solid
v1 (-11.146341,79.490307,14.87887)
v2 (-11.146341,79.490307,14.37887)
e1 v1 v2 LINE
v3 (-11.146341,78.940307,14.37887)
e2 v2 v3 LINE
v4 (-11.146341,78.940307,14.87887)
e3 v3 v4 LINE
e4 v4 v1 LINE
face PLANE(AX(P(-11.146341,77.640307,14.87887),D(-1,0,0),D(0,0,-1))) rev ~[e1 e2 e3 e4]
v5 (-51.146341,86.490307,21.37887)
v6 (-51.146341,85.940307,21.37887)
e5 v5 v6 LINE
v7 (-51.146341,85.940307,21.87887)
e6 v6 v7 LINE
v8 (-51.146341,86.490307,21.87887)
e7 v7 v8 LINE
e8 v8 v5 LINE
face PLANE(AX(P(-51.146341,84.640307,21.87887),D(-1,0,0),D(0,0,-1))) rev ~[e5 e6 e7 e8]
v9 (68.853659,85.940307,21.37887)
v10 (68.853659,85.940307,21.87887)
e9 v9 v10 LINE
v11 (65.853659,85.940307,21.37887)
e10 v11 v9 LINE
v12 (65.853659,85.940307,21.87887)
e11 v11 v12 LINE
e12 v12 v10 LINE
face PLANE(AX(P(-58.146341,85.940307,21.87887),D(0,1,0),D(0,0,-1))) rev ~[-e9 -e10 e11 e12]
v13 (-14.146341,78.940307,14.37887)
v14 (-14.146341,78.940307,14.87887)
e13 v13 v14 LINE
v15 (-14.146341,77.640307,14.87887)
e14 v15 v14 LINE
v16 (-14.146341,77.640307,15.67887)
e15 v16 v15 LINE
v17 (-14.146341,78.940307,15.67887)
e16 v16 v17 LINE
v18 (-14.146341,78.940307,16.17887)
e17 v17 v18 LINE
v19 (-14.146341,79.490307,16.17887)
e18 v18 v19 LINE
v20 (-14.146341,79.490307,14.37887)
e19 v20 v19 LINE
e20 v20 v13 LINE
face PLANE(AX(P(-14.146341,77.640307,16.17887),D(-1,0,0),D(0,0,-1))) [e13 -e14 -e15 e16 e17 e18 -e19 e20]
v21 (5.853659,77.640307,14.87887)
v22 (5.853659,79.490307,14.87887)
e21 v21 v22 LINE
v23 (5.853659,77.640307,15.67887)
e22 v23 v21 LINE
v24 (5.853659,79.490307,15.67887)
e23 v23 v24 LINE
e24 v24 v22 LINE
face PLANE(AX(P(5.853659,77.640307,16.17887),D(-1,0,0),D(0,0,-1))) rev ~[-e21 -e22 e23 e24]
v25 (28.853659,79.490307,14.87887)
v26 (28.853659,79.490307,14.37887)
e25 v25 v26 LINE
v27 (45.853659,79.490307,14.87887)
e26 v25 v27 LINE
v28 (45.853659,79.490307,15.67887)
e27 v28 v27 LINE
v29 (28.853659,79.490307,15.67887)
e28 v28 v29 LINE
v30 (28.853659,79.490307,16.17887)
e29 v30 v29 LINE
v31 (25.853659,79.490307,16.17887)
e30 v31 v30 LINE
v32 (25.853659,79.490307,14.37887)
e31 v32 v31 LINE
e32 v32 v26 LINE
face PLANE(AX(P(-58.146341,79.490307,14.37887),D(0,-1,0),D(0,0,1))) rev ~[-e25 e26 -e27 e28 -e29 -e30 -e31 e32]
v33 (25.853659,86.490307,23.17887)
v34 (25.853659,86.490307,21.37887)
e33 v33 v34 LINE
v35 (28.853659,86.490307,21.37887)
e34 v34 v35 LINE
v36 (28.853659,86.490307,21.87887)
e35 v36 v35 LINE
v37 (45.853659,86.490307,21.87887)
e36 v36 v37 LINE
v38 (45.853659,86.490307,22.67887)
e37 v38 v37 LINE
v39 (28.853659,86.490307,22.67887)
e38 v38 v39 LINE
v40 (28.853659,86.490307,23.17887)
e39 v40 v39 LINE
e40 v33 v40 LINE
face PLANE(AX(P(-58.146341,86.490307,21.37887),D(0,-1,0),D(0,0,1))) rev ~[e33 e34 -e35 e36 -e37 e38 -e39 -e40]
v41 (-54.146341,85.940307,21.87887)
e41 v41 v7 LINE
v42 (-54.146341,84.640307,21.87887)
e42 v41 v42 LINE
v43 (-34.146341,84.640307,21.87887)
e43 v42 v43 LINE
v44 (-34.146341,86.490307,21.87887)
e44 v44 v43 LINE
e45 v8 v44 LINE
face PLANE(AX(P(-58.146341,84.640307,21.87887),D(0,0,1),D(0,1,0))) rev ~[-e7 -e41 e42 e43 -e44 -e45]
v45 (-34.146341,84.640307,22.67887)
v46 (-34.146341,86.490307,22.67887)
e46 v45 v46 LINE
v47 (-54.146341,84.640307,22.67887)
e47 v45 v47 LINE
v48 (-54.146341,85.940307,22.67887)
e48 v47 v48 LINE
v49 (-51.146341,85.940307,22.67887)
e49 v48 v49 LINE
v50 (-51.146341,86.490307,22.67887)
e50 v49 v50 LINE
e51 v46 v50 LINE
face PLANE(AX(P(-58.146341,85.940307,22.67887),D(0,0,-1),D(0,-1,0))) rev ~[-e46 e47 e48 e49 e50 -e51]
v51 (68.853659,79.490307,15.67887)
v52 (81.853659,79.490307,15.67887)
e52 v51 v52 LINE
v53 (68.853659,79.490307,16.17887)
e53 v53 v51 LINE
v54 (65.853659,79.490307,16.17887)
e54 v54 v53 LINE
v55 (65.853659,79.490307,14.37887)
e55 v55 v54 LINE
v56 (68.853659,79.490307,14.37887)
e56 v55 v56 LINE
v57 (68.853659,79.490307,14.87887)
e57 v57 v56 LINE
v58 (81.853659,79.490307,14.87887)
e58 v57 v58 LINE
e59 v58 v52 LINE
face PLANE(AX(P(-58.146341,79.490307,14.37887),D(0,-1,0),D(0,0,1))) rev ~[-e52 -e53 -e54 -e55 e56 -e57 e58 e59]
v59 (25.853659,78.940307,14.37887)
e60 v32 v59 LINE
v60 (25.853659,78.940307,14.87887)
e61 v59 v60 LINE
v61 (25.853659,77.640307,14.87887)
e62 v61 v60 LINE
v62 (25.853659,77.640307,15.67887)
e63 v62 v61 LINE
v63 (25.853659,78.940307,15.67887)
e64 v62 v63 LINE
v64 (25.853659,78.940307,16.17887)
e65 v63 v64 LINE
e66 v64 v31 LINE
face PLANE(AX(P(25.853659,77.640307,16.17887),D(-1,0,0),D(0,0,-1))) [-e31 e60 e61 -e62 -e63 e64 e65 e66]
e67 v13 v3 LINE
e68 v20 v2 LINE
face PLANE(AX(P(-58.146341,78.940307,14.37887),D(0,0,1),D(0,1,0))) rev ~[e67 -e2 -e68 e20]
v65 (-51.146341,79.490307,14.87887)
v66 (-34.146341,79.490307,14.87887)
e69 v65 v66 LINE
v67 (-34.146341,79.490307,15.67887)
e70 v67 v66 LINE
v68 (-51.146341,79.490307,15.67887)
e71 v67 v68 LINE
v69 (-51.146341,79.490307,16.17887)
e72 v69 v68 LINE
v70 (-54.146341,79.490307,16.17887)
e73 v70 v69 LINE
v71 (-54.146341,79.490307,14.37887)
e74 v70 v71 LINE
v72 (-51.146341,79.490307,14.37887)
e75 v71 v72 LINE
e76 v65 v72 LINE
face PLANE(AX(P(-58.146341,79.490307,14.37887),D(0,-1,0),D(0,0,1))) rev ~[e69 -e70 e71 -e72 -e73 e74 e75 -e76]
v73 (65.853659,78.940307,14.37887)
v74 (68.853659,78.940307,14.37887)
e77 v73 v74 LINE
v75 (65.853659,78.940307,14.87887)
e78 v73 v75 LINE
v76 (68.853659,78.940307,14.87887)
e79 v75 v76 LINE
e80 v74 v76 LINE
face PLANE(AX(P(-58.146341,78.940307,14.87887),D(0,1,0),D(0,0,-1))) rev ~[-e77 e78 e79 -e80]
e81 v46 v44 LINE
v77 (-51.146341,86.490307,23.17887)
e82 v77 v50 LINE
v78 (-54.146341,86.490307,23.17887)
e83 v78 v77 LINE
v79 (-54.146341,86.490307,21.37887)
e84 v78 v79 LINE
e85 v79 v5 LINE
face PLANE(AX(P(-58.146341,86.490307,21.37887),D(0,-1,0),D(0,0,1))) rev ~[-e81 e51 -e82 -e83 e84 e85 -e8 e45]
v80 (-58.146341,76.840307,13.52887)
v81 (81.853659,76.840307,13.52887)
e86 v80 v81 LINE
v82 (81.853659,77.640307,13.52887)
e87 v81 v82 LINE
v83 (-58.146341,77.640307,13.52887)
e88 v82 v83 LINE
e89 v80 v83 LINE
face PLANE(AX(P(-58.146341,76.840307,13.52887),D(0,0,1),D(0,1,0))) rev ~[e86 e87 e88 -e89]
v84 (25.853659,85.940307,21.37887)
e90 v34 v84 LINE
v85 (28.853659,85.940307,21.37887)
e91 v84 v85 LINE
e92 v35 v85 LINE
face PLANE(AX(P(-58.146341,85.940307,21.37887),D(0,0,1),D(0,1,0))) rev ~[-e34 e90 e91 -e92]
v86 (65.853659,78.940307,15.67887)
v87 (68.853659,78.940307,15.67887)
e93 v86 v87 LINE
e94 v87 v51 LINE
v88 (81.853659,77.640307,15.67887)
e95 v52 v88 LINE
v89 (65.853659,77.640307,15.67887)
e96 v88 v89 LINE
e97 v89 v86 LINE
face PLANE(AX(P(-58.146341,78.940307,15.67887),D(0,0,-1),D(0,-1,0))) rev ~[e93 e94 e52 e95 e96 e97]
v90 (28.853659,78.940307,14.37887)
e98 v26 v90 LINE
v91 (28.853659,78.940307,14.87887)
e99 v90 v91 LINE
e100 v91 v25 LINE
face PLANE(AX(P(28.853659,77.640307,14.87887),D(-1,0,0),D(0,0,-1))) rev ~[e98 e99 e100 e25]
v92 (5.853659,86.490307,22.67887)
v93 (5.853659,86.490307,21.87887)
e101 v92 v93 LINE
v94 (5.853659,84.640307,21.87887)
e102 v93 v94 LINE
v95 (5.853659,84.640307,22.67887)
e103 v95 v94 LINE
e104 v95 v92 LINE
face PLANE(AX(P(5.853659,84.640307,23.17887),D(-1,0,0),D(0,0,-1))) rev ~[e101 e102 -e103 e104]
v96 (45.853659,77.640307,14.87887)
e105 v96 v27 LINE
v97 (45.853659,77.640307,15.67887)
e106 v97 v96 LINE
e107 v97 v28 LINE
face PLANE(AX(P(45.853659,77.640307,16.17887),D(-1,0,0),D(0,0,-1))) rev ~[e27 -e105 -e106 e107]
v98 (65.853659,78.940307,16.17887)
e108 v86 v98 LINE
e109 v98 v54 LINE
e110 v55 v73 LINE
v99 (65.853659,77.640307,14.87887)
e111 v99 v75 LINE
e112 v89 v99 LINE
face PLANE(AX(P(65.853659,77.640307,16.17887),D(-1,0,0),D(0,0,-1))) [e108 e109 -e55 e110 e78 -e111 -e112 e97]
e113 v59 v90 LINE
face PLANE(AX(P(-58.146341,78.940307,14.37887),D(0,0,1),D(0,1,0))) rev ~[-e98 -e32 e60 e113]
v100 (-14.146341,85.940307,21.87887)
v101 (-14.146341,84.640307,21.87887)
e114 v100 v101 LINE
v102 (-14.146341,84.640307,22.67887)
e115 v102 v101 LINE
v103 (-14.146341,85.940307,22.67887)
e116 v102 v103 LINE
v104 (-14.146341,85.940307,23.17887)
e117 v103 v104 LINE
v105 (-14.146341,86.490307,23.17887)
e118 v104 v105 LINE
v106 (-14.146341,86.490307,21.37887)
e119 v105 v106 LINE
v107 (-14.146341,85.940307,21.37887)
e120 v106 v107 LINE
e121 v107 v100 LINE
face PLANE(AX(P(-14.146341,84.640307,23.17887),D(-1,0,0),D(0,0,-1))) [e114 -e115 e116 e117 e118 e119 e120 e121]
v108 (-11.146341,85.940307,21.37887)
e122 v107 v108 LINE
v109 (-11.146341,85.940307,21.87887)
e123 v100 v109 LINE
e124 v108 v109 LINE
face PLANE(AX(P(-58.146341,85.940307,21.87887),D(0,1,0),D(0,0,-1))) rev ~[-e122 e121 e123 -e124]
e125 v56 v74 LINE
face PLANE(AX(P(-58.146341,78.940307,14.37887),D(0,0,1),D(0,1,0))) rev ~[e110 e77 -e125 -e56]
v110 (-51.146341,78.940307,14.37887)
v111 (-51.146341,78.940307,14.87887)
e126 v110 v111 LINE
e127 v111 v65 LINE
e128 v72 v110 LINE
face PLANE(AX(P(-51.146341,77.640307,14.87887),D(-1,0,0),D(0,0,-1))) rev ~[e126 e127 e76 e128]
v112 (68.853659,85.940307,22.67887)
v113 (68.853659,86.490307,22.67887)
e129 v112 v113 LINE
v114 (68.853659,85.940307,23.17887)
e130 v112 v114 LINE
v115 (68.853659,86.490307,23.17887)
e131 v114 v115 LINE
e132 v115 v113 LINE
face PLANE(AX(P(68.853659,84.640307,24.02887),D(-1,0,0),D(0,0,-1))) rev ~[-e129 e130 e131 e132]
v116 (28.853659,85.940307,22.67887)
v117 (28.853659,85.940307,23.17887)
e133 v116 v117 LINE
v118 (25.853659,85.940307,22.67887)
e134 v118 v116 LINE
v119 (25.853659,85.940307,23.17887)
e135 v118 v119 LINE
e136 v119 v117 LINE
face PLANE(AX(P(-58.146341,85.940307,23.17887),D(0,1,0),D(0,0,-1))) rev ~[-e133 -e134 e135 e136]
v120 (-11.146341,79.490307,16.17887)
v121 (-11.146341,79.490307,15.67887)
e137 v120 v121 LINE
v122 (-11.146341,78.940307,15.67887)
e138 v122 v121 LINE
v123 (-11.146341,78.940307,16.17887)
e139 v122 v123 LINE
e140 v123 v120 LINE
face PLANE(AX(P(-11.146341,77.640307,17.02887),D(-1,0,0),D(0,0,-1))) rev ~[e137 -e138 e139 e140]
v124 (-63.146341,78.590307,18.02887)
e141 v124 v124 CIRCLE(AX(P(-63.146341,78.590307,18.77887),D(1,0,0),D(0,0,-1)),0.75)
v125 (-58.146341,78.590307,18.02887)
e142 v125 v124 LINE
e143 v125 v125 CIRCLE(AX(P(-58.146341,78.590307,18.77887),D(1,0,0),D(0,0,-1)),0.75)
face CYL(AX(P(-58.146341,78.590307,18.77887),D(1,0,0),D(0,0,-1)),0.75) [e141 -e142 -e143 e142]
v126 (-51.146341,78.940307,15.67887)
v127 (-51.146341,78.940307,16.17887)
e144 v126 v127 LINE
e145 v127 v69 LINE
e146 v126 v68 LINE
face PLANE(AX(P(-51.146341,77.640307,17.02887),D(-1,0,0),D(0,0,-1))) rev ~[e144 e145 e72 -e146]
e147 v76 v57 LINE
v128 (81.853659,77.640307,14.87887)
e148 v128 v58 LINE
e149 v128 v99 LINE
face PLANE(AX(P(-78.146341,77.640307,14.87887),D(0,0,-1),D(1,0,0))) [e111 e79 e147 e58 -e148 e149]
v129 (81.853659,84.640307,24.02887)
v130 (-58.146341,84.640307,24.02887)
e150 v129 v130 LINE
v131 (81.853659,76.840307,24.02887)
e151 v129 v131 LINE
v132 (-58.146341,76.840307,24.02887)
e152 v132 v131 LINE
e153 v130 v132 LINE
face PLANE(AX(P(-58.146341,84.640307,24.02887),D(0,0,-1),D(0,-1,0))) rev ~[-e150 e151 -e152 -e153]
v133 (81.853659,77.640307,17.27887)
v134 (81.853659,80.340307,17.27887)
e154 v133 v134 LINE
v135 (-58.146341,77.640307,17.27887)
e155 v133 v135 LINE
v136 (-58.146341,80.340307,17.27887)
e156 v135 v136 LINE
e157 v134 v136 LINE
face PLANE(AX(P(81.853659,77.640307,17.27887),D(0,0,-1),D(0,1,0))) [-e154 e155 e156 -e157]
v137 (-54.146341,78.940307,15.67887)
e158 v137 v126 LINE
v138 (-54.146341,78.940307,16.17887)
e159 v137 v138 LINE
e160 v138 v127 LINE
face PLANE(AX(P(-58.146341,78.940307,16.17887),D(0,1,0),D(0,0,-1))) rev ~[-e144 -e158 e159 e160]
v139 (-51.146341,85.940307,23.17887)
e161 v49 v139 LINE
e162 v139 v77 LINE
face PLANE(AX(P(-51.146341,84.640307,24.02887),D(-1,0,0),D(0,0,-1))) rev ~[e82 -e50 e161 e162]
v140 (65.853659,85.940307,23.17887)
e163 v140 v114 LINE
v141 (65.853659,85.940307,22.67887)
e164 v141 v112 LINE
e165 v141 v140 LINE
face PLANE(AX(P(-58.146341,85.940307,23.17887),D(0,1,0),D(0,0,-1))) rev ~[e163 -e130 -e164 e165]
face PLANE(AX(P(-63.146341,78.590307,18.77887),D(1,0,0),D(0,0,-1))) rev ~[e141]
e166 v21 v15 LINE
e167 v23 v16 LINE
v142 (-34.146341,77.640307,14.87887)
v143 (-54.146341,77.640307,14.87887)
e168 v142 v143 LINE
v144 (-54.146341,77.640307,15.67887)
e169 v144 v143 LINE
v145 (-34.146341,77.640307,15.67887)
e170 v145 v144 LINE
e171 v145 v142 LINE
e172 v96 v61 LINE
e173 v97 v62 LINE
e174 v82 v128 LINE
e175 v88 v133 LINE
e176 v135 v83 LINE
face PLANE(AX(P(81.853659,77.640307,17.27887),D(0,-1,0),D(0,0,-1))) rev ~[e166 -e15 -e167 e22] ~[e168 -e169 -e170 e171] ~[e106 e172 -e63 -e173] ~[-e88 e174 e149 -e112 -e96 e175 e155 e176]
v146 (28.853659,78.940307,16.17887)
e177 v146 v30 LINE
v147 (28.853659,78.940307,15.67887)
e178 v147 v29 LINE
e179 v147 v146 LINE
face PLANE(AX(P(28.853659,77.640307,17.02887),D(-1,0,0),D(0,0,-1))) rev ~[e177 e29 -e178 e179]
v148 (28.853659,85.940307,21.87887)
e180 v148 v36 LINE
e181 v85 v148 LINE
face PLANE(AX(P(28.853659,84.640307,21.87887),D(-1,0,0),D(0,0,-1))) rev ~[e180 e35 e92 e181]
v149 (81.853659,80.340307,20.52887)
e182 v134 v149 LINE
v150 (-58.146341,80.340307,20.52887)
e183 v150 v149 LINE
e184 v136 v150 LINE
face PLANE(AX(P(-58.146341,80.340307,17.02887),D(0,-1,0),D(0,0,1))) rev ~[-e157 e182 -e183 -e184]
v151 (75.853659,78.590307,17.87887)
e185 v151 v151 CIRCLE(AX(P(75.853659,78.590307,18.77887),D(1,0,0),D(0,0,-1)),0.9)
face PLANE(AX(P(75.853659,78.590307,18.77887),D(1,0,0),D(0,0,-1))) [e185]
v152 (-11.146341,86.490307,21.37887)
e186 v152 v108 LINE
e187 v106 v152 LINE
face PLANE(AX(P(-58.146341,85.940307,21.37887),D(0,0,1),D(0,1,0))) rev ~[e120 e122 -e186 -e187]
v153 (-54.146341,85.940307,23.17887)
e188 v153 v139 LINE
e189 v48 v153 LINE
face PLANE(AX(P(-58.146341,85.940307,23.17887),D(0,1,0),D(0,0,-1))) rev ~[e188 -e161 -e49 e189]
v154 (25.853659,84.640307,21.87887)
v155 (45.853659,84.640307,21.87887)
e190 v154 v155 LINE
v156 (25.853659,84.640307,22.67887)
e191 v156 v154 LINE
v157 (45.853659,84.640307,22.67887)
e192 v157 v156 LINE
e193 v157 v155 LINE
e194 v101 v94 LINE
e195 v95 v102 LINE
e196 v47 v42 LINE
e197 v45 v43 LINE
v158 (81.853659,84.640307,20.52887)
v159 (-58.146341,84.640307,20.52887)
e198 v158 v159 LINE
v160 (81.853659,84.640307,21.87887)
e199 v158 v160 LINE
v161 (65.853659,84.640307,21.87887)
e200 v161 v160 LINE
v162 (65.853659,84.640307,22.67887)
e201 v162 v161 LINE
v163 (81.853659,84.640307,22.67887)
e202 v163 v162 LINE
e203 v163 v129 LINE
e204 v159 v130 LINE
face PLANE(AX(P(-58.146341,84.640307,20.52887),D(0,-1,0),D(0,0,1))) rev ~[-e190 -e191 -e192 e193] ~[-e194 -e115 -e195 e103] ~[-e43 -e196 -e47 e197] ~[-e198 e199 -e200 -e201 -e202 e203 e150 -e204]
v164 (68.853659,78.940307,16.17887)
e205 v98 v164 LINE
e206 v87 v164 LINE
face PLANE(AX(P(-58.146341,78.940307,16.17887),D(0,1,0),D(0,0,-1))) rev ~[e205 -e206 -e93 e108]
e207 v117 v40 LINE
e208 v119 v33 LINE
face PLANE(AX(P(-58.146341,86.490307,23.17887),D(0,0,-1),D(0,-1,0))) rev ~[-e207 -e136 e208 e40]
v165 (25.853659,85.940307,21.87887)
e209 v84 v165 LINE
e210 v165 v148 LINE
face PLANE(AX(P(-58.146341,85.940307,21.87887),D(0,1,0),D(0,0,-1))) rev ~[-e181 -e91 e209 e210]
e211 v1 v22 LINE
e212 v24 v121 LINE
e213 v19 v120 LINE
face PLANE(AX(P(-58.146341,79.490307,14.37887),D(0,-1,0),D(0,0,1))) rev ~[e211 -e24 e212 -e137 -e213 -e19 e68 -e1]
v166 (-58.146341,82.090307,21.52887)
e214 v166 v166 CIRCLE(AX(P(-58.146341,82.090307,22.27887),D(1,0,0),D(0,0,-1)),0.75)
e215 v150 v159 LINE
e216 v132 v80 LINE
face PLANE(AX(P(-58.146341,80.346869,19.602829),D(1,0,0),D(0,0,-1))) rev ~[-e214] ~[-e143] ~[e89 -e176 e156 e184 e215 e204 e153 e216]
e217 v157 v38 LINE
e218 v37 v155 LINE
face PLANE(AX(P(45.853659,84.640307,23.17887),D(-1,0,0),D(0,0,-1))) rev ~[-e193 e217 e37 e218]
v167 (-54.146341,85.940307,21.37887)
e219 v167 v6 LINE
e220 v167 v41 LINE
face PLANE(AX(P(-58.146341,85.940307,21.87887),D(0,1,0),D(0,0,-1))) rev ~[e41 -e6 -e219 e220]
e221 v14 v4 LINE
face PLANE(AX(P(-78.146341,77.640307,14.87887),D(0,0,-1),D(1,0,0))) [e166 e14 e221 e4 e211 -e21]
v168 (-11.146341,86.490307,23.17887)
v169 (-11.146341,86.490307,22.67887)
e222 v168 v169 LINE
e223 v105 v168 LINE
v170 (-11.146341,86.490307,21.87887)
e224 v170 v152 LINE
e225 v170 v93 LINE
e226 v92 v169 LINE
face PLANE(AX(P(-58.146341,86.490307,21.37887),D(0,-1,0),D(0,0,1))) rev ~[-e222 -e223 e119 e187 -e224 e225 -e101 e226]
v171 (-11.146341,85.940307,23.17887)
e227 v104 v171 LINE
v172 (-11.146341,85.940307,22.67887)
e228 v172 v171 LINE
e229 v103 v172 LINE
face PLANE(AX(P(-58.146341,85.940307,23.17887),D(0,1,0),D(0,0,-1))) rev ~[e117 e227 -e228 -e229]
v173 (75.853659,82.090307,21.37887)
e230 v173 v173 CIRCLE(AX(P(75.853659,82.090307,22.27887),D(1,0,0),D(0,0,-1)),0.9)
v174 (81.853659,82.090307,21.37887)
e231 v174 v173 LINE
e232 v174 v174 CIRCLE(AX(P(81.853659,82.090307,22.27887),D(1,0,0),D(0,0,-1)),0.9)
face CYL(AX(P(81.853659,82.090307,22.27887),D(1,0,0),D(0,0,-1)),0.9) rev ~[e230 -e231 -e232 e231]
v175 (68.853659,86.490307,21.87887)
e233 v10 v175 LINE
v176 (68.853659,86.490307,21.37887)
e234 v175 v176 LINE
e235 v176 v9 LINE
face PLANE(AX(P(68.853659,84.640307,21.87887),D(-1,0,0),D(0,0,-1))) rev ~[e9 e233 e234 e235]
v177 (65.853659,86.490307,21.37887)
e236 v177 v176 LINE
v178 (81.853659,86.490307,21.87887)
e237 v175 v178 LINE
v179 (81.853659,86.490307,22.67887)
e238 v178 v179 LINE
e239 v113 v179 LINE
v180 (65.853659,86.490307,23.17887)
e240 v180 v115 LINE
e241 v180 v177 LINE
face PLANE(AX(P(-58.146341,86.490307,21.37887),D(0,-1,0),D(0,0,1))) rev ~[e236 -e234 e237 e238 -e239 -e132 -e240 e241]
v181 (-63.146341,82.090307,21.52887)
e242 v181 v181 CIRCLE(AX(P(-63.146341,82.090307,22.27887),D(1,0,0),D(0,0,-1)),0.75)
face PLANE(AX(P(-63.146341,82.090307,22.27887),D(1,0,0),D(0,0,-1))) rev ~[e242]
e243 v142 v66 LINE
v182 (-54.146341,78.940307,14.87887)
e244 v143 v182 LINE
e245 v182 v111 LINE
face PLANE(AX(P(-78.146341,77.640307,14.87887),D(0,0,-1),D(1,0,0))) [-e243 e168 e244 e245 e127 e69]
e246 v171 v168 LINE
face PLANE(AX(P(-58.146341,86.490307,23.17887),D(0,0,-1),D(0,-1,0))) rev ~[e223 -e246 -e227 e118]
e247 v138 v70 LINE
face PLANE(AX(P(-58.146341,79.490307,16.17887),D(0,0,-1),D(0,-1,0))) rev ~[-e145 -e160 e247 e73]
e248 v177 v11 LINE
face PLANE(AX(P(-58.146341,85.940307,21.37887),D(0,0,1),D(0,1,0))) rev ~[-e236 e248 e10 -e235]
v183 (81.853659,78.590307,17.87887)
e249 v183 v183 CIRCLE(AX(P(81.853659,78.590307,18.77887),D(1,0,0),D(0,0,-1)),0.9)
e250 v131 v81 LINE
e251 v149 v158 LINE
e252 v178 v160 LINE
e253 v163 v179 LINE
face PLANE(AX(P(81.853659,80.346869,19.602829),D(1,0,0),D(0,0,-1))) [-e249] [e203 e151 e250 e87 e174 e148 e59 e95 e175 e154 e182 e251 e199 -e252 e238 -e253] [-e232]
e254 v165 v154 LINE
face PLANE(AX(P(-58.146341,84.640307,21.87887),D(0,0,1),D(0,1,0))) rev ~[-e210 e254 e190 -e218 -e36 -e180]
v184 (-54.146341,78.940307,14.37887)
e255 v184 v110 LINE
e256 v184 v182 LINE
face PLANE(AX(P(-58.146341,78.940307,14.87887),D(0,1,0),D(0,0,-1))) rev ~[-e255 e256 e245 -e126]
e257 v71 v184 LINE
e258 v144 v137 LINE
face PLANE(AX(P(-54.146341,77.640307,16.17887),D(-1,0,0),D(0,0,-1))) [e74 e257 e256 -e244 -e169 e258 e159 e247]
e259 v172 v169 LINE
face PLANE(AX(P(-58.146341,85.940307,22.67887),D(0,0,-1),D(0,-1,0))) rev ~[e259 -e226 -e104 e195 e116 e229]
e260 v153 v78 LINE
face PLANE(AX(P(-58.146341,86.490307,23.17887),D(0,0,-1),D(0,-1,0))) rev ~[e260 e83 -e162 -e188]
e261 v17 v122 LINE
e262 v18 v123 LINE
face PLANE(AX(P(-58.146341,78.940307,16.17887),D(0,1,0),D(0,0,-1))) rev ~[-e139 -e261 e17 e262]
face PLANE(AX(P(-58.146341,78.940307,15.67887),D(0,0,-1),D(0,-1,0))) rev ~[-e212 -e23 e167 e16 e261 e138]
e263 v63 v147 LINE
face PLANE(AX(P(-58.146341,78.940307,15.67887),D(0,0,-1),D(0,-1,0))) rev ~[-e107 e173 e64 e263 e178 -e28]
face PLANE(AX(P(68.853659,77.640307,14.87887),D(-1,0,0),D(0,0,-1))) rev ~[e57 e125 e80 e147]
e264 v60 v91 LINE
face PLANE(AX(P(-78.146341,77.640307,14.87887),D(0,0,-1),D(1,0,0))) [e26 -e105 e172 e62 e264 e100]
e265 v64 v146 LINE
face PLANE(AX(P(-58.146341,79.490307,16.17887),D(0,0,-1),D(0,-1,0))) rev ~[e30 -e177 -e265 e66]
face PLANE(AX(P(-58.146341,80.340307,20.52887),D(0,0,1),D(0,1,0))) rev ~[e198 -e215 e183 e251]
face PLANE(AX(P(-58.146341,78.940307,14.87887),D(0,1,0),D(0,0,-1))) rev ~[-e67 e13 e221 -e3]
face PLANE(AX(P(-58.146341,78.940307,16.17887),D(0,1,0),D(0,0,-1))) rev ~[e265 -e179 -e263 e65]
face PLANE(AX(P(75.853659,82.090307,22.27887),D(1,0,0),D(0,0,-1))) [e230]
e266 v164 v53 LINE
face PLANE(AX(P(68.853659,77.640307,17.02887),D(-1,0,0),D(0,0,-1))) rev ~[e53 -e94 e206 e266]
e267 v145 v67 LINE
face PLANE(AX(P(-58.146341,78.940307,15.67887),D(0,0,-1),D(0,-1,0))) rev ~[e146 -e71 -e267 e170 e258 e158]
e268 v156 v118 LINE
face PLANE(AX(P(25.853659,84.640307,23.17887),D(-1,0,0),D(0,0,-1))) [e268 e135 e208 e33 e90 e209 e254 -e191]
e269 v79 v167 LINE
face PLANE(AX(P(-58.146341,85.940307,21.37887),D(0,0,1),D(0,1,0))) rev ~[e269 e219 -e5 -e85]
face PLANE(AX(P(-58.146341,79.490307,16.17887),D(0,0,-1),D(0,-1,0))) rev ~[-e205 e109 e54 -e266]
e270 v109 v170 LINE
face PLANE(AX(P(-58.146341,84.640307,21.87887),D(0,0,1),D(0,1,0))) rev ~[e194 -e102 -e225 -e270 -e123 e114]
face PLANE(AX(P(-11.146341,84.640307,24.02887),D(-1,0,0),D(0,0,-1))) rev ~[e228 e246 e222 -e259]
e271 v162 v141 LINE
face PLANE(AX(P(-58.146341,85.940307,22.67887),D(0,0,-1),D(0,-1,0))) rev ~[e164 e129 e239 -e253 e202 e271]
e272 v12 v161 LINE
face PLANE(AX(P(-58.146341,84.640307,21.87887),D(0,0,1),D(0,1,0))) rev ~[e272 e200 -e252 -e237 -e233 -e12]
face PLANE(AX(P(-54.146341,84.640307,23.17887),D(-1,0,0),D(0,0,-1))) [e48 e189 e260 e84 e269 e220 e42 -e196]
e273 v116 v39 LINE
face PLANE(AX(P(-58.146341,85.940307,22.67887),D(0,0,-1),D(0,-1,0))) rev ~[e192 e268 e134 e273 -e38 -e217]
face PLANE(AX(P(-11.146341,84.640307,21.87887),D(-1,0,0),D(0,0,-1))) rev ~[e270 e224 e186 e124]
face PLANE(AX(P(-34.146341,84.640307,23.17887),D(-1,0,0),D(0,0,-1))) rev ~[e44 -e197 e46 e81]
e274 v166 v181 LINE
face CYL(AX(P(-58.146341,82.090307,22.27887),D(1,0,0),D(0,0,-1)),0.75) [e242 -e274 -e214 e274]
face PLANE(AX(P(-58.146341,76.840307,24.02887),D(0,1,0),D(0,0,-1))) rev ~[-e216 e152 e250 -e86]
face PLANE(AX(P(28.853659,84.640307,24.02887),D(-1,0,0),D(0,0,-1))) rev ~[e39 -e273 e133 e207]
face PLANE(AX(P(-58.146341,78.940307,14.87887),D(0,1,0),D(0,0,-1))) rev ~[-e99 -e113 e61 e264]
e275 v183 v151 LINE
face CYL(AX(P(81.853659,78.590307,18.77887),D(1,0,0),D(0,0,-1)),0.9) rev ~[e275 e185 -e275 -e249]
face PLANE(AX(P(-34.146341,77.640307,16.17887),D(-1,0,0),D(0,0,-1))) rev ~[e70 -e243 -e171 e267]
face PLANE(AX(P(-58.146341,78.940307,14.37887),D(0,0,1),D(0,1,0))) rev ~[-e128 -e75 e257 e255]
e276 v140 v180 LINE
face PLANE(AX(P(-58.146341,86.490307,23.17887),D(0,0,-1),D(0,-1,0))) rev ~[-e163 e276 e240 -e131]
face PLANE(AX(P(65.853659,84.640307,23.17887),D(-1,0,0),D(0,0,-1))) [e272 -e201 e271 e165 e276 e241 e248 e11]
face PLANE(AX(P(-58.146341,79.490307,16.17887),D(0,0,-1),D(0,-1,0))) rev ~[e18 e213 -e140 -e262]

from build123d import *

# Parameters (mm, degrees)
BOSS_EXTRUDE1_DEPTH = 140
SKETCH1_5_R         = 0.75
BOSS_EXTRUDE2_DEPTH = 5
SKETCH2_R           = 0.9
CUT_EXTRUDE1_DEPTH  = 6
SKETCH3_W           = 0.25
SKETCH3_H           = 2.7
CUT_EXTRUDE2_DEPTH  = 171.537268104
SKETCH4_W           = 13
SKETCH4_H           = 1.35
SKETCH4_W_2         = 37
SKETCH4_W_3         = 4
SKETCH4_W_4         = 30
CUT_EXTRUDE4_DEPTH  = 86.663575277
SKETCH6_W           = 13
SKETCH6_H           = 1.35
SKETCH6_W_2         = 37
SKETCH6_W_3         = 24
CUT_EXTRUDE5_DEPTH  = 86.765556194
SKETCH7_W           = 20
SKETCH7_H           = 1.8
CUT_EXTRUDE6_DEPTH  = 86.663575277
SKETCH8_W           = 20
SKETCH8_H           = 1.8
CUT_EXTRUDE7_DEPTH  = 86.765556194


with BuildPart() as part:
    # Sketch1 → Boss-Extrude1 (new body)
    with BuildSketch(Plane(origin=(-58.146340827, 0, 0), x_dir=(0, 0, -1), z_dir=(1, 0, 0))):
        Polygon((-20.52887033, 84.640306989), (-21.87887033, 84.640306989), (-21.87887033, 85.940306989), (-21.37887033, 85.940306989), (-21.37887033, 86.490306989), (-23.17887033, 86.490306989), (-23.17887033, 85.940306989), (-22.67887033, 85.940306989), (-22.67887033, 84.640306989), (-24.02887033, 84.640306989), (-24.02887033, 76.840306989), (-13.52887033, 76.840306989), (-13.52887033, 77.640306989), (-14.87887033, 77.640306989), (-14.87887033, 78.940306989), (-14.37887033, 78.940306989), (-14.37887033, 79.490306989), (-16.17887033, 79.490306989), (-16.17887033, 78.940306989), (-15.67887033, 78.940306989), (-15.67887033, 77.640306989), (-17.02887033, 77.640306989), (-17.02887033, 80.340306989), (-20.52887033, 80.340306989), align=None)
    extrude(amount=BOSS_EXTRUDE1_DEPTH)

    # Sketch1<5> → Boss-Extrude2 (add)
    with BuildSketch(Plane(origin=(-58.146340827, 0, 0), x_dir=(0, 0, -1), z_dir=(1, 0, 0))):
        with Locations((-22.27887033, 82.090306989)):
            Circle(SKETCH1_5_R)
        with Locations((-18.77887033, 78.590306989)):
            Circle(SKETCH1_5_R)
    extrude(amount=-BOSS_EXTRUDE2_DEPTH)

    # Sketch2 → Cut-Extrude1 (cut)
    with BuildSketch(Plane(origin=(81.853659173, 0, 0), x_dir=(0, 0, -1), z_dir=(1, 0, 0))):
        with Locations((-22.27887033, 82.090306989)):
            Circle(SKETCH2_R)
        with Locations((-18.77887033, 78.590306989)):
            Circle(SKETCH2_R)
    extrude(amount=-CUT_EXTRUDE1_DEPTH, mode=Mode.SUBTRACT)

    # Sketch3 → Cut-Extrude2 (cut, through all)
    with BuildSketch(Plane(origin=(81.853659173, 0, 0), x_dir=(0, 0, -1), z_dir=(1, 0, 0))):
        with Locations((-17.15387033, 78.990306989)):
            Rectangle(SKETCH3_W, SKETCH3_H)
    extrude(amount=-CUT_EXTRUDE2_DEPTH, mode=Mode.SUBTRACT)

    # Sketch4 → Cut-Extrude4 (cut, through all)
    with BuildSketch(Plane(origin=(0, 84.640306989, 0), x_dir=(1, 0, 0), z_dir=(0, 1, 0))):
        with Locations((75.353659173, -21.20387033)):
            Rectangle(SKETCH4_W, SKETCH4_H)
        with Locations((75.353659173, -23.35387033)):
            Rectangle(SKETCH4_W, SKETCH4_H)
        with Locations((47.353659173, -23.35387033)):
            Rectangle(SKETCH4_W_2, SKETCH4_H)
        with Locations((7.353659173, -23.35387033)):
            Rectangle(SKETCH4_W_2, SKETCH4_H)
        with Locations((-32.646340827, -23.35387033)):
            Rectangle(SKETCH4_W_2, SKETCH4_H)
        with Locations((-56.146340827, -23.35387033)):
            Rectangle(SKETCH4_W_3, SKETCH4_H)
        with Locations((47.353659173, -21.20387033)):
            Rectangle(SKETCH4_W_2, SKETCH4_H)
        with Locations((7.353659173, -21.20387033)):
            Rectangle(SKETCH4_W_2, SKETCH4_H)
        with Locations((-32.646340827, -21.20387033)):
            Rectangle(SKETCH4_W_2, SKETCH4_H)
        with Locations((-69.146340827, -21.20387033)):
            Rectangle(SKETCH4_W_4, SKETCH4_H)
    extrude(amount=CUT_EXTRUDE4_DEPTH, mode=Mode.SUBTRACT)

    # Sketch6 → Cut-Extrude5 (cut, through all)
    with BuildSketch(Plane(origin=(0, 77.640306989, 0), x_dir=(1, 0, 0), z_dir=(0, 1, 0))):
        with Locations((75.353659173, -14.20387033)):
            Rectangle(SKETCH6_W, SKETCH6_H)
        with Locations((47.353659173, -14.20387033)):
            Rectangle(SKETCH6_W_2, SKETCH6_H)
        with Locations((7.353659173, -14.20387033)):
            Rectangle(SKETCH6_W_2, SKETCH6_H)
        with Locations((-32.646340827, -14.20387033)):
            Rectangle(SKETCH6_W_2, SKETCH6_H)
        with Locations((-66.146340827, -14.20387033)):
            Rectangle(SKETCH6_W_3, SKETCH6_H)
        with Locations((75.353659173, -16.35387033)):
            Rectangle(SKETCH6_W, SKETCH6_H)
        with Locations((47.353659173, -16.35387033)):
            Rectangle(SKETCH6_W_2, SKETCH6_H)
        with Locations((7.353659173, -16.35387033)):
            Rectangle(SKETCH6_W_2, SKETCH6_H)
        with Locations((-32.646340827, -16.35387033)):
            Rectangle(SKETCH6_W_2, SKETCH6_H)
        with Locations((-66.146340827, -16.35387033)):
            Rectangle(SKETCH6_W_3, SKETCH6_H)
    extrude(amount=CUT_EXTRUDE5_DEPTH, mode=Mode.SUBTRACT)

    # Sketch7 → Cut-Extrude6 (cut, through all)
    with BuildSketch(Plane(origin=(0, 84.640306989, 0), x_dir=(1, 0, 0), z_dir=(0, 1, 0))):
        with Locations((55.853659173, -22.27887033)):
            Rectangle(SKETCH7_W, SKETCH7_H)
        with Locations((15.853659173, -22.27887033)):
            Rectangle(SKETCH7_W, SKETCH7_H)
        with Locations((-24.146340827, -22.27887033)):
            Rectangle(SKETCH7_W, SKETCH7_H)
        with Locations((-64.146340827, -22.27887033)):
            Rectangle(SKETCH7_W, SKETCH7_H)
    extrude(amount=CUT_EXTRUDE6_DEPTH, mode=Mode.SUBTRACT)

    # Sketch8 → Cut-Extrude7 (cut, through all)
    with BuildSketch(Plane(origin=(0, 77.640306989, 0), x_dir=(1, 0, 0), z_dir=(0, 1, 0))):
        with Locations((55.853659173, -15.27887033)):
            Rectangle(SKETCH8_W, SKETCH8_H)
        with Locations((15.853659173, -15.27887033)):
            Rectangle(SKETCH8_W, SKETCH8_H)
        with Locations((-24.146340827, -15.27887033)):
            Rectangle(SKETCH8_W, SKETCH8_H)
        with Locations((-64.146340827, -15.27887033)):
            Rectangle(SKETCH8_W, SKETCH8_H)
    extrude(amount=CUT_EXTRUDE7_DEPTH, mode=Mode.SUBTRACT)


solid = part.part
